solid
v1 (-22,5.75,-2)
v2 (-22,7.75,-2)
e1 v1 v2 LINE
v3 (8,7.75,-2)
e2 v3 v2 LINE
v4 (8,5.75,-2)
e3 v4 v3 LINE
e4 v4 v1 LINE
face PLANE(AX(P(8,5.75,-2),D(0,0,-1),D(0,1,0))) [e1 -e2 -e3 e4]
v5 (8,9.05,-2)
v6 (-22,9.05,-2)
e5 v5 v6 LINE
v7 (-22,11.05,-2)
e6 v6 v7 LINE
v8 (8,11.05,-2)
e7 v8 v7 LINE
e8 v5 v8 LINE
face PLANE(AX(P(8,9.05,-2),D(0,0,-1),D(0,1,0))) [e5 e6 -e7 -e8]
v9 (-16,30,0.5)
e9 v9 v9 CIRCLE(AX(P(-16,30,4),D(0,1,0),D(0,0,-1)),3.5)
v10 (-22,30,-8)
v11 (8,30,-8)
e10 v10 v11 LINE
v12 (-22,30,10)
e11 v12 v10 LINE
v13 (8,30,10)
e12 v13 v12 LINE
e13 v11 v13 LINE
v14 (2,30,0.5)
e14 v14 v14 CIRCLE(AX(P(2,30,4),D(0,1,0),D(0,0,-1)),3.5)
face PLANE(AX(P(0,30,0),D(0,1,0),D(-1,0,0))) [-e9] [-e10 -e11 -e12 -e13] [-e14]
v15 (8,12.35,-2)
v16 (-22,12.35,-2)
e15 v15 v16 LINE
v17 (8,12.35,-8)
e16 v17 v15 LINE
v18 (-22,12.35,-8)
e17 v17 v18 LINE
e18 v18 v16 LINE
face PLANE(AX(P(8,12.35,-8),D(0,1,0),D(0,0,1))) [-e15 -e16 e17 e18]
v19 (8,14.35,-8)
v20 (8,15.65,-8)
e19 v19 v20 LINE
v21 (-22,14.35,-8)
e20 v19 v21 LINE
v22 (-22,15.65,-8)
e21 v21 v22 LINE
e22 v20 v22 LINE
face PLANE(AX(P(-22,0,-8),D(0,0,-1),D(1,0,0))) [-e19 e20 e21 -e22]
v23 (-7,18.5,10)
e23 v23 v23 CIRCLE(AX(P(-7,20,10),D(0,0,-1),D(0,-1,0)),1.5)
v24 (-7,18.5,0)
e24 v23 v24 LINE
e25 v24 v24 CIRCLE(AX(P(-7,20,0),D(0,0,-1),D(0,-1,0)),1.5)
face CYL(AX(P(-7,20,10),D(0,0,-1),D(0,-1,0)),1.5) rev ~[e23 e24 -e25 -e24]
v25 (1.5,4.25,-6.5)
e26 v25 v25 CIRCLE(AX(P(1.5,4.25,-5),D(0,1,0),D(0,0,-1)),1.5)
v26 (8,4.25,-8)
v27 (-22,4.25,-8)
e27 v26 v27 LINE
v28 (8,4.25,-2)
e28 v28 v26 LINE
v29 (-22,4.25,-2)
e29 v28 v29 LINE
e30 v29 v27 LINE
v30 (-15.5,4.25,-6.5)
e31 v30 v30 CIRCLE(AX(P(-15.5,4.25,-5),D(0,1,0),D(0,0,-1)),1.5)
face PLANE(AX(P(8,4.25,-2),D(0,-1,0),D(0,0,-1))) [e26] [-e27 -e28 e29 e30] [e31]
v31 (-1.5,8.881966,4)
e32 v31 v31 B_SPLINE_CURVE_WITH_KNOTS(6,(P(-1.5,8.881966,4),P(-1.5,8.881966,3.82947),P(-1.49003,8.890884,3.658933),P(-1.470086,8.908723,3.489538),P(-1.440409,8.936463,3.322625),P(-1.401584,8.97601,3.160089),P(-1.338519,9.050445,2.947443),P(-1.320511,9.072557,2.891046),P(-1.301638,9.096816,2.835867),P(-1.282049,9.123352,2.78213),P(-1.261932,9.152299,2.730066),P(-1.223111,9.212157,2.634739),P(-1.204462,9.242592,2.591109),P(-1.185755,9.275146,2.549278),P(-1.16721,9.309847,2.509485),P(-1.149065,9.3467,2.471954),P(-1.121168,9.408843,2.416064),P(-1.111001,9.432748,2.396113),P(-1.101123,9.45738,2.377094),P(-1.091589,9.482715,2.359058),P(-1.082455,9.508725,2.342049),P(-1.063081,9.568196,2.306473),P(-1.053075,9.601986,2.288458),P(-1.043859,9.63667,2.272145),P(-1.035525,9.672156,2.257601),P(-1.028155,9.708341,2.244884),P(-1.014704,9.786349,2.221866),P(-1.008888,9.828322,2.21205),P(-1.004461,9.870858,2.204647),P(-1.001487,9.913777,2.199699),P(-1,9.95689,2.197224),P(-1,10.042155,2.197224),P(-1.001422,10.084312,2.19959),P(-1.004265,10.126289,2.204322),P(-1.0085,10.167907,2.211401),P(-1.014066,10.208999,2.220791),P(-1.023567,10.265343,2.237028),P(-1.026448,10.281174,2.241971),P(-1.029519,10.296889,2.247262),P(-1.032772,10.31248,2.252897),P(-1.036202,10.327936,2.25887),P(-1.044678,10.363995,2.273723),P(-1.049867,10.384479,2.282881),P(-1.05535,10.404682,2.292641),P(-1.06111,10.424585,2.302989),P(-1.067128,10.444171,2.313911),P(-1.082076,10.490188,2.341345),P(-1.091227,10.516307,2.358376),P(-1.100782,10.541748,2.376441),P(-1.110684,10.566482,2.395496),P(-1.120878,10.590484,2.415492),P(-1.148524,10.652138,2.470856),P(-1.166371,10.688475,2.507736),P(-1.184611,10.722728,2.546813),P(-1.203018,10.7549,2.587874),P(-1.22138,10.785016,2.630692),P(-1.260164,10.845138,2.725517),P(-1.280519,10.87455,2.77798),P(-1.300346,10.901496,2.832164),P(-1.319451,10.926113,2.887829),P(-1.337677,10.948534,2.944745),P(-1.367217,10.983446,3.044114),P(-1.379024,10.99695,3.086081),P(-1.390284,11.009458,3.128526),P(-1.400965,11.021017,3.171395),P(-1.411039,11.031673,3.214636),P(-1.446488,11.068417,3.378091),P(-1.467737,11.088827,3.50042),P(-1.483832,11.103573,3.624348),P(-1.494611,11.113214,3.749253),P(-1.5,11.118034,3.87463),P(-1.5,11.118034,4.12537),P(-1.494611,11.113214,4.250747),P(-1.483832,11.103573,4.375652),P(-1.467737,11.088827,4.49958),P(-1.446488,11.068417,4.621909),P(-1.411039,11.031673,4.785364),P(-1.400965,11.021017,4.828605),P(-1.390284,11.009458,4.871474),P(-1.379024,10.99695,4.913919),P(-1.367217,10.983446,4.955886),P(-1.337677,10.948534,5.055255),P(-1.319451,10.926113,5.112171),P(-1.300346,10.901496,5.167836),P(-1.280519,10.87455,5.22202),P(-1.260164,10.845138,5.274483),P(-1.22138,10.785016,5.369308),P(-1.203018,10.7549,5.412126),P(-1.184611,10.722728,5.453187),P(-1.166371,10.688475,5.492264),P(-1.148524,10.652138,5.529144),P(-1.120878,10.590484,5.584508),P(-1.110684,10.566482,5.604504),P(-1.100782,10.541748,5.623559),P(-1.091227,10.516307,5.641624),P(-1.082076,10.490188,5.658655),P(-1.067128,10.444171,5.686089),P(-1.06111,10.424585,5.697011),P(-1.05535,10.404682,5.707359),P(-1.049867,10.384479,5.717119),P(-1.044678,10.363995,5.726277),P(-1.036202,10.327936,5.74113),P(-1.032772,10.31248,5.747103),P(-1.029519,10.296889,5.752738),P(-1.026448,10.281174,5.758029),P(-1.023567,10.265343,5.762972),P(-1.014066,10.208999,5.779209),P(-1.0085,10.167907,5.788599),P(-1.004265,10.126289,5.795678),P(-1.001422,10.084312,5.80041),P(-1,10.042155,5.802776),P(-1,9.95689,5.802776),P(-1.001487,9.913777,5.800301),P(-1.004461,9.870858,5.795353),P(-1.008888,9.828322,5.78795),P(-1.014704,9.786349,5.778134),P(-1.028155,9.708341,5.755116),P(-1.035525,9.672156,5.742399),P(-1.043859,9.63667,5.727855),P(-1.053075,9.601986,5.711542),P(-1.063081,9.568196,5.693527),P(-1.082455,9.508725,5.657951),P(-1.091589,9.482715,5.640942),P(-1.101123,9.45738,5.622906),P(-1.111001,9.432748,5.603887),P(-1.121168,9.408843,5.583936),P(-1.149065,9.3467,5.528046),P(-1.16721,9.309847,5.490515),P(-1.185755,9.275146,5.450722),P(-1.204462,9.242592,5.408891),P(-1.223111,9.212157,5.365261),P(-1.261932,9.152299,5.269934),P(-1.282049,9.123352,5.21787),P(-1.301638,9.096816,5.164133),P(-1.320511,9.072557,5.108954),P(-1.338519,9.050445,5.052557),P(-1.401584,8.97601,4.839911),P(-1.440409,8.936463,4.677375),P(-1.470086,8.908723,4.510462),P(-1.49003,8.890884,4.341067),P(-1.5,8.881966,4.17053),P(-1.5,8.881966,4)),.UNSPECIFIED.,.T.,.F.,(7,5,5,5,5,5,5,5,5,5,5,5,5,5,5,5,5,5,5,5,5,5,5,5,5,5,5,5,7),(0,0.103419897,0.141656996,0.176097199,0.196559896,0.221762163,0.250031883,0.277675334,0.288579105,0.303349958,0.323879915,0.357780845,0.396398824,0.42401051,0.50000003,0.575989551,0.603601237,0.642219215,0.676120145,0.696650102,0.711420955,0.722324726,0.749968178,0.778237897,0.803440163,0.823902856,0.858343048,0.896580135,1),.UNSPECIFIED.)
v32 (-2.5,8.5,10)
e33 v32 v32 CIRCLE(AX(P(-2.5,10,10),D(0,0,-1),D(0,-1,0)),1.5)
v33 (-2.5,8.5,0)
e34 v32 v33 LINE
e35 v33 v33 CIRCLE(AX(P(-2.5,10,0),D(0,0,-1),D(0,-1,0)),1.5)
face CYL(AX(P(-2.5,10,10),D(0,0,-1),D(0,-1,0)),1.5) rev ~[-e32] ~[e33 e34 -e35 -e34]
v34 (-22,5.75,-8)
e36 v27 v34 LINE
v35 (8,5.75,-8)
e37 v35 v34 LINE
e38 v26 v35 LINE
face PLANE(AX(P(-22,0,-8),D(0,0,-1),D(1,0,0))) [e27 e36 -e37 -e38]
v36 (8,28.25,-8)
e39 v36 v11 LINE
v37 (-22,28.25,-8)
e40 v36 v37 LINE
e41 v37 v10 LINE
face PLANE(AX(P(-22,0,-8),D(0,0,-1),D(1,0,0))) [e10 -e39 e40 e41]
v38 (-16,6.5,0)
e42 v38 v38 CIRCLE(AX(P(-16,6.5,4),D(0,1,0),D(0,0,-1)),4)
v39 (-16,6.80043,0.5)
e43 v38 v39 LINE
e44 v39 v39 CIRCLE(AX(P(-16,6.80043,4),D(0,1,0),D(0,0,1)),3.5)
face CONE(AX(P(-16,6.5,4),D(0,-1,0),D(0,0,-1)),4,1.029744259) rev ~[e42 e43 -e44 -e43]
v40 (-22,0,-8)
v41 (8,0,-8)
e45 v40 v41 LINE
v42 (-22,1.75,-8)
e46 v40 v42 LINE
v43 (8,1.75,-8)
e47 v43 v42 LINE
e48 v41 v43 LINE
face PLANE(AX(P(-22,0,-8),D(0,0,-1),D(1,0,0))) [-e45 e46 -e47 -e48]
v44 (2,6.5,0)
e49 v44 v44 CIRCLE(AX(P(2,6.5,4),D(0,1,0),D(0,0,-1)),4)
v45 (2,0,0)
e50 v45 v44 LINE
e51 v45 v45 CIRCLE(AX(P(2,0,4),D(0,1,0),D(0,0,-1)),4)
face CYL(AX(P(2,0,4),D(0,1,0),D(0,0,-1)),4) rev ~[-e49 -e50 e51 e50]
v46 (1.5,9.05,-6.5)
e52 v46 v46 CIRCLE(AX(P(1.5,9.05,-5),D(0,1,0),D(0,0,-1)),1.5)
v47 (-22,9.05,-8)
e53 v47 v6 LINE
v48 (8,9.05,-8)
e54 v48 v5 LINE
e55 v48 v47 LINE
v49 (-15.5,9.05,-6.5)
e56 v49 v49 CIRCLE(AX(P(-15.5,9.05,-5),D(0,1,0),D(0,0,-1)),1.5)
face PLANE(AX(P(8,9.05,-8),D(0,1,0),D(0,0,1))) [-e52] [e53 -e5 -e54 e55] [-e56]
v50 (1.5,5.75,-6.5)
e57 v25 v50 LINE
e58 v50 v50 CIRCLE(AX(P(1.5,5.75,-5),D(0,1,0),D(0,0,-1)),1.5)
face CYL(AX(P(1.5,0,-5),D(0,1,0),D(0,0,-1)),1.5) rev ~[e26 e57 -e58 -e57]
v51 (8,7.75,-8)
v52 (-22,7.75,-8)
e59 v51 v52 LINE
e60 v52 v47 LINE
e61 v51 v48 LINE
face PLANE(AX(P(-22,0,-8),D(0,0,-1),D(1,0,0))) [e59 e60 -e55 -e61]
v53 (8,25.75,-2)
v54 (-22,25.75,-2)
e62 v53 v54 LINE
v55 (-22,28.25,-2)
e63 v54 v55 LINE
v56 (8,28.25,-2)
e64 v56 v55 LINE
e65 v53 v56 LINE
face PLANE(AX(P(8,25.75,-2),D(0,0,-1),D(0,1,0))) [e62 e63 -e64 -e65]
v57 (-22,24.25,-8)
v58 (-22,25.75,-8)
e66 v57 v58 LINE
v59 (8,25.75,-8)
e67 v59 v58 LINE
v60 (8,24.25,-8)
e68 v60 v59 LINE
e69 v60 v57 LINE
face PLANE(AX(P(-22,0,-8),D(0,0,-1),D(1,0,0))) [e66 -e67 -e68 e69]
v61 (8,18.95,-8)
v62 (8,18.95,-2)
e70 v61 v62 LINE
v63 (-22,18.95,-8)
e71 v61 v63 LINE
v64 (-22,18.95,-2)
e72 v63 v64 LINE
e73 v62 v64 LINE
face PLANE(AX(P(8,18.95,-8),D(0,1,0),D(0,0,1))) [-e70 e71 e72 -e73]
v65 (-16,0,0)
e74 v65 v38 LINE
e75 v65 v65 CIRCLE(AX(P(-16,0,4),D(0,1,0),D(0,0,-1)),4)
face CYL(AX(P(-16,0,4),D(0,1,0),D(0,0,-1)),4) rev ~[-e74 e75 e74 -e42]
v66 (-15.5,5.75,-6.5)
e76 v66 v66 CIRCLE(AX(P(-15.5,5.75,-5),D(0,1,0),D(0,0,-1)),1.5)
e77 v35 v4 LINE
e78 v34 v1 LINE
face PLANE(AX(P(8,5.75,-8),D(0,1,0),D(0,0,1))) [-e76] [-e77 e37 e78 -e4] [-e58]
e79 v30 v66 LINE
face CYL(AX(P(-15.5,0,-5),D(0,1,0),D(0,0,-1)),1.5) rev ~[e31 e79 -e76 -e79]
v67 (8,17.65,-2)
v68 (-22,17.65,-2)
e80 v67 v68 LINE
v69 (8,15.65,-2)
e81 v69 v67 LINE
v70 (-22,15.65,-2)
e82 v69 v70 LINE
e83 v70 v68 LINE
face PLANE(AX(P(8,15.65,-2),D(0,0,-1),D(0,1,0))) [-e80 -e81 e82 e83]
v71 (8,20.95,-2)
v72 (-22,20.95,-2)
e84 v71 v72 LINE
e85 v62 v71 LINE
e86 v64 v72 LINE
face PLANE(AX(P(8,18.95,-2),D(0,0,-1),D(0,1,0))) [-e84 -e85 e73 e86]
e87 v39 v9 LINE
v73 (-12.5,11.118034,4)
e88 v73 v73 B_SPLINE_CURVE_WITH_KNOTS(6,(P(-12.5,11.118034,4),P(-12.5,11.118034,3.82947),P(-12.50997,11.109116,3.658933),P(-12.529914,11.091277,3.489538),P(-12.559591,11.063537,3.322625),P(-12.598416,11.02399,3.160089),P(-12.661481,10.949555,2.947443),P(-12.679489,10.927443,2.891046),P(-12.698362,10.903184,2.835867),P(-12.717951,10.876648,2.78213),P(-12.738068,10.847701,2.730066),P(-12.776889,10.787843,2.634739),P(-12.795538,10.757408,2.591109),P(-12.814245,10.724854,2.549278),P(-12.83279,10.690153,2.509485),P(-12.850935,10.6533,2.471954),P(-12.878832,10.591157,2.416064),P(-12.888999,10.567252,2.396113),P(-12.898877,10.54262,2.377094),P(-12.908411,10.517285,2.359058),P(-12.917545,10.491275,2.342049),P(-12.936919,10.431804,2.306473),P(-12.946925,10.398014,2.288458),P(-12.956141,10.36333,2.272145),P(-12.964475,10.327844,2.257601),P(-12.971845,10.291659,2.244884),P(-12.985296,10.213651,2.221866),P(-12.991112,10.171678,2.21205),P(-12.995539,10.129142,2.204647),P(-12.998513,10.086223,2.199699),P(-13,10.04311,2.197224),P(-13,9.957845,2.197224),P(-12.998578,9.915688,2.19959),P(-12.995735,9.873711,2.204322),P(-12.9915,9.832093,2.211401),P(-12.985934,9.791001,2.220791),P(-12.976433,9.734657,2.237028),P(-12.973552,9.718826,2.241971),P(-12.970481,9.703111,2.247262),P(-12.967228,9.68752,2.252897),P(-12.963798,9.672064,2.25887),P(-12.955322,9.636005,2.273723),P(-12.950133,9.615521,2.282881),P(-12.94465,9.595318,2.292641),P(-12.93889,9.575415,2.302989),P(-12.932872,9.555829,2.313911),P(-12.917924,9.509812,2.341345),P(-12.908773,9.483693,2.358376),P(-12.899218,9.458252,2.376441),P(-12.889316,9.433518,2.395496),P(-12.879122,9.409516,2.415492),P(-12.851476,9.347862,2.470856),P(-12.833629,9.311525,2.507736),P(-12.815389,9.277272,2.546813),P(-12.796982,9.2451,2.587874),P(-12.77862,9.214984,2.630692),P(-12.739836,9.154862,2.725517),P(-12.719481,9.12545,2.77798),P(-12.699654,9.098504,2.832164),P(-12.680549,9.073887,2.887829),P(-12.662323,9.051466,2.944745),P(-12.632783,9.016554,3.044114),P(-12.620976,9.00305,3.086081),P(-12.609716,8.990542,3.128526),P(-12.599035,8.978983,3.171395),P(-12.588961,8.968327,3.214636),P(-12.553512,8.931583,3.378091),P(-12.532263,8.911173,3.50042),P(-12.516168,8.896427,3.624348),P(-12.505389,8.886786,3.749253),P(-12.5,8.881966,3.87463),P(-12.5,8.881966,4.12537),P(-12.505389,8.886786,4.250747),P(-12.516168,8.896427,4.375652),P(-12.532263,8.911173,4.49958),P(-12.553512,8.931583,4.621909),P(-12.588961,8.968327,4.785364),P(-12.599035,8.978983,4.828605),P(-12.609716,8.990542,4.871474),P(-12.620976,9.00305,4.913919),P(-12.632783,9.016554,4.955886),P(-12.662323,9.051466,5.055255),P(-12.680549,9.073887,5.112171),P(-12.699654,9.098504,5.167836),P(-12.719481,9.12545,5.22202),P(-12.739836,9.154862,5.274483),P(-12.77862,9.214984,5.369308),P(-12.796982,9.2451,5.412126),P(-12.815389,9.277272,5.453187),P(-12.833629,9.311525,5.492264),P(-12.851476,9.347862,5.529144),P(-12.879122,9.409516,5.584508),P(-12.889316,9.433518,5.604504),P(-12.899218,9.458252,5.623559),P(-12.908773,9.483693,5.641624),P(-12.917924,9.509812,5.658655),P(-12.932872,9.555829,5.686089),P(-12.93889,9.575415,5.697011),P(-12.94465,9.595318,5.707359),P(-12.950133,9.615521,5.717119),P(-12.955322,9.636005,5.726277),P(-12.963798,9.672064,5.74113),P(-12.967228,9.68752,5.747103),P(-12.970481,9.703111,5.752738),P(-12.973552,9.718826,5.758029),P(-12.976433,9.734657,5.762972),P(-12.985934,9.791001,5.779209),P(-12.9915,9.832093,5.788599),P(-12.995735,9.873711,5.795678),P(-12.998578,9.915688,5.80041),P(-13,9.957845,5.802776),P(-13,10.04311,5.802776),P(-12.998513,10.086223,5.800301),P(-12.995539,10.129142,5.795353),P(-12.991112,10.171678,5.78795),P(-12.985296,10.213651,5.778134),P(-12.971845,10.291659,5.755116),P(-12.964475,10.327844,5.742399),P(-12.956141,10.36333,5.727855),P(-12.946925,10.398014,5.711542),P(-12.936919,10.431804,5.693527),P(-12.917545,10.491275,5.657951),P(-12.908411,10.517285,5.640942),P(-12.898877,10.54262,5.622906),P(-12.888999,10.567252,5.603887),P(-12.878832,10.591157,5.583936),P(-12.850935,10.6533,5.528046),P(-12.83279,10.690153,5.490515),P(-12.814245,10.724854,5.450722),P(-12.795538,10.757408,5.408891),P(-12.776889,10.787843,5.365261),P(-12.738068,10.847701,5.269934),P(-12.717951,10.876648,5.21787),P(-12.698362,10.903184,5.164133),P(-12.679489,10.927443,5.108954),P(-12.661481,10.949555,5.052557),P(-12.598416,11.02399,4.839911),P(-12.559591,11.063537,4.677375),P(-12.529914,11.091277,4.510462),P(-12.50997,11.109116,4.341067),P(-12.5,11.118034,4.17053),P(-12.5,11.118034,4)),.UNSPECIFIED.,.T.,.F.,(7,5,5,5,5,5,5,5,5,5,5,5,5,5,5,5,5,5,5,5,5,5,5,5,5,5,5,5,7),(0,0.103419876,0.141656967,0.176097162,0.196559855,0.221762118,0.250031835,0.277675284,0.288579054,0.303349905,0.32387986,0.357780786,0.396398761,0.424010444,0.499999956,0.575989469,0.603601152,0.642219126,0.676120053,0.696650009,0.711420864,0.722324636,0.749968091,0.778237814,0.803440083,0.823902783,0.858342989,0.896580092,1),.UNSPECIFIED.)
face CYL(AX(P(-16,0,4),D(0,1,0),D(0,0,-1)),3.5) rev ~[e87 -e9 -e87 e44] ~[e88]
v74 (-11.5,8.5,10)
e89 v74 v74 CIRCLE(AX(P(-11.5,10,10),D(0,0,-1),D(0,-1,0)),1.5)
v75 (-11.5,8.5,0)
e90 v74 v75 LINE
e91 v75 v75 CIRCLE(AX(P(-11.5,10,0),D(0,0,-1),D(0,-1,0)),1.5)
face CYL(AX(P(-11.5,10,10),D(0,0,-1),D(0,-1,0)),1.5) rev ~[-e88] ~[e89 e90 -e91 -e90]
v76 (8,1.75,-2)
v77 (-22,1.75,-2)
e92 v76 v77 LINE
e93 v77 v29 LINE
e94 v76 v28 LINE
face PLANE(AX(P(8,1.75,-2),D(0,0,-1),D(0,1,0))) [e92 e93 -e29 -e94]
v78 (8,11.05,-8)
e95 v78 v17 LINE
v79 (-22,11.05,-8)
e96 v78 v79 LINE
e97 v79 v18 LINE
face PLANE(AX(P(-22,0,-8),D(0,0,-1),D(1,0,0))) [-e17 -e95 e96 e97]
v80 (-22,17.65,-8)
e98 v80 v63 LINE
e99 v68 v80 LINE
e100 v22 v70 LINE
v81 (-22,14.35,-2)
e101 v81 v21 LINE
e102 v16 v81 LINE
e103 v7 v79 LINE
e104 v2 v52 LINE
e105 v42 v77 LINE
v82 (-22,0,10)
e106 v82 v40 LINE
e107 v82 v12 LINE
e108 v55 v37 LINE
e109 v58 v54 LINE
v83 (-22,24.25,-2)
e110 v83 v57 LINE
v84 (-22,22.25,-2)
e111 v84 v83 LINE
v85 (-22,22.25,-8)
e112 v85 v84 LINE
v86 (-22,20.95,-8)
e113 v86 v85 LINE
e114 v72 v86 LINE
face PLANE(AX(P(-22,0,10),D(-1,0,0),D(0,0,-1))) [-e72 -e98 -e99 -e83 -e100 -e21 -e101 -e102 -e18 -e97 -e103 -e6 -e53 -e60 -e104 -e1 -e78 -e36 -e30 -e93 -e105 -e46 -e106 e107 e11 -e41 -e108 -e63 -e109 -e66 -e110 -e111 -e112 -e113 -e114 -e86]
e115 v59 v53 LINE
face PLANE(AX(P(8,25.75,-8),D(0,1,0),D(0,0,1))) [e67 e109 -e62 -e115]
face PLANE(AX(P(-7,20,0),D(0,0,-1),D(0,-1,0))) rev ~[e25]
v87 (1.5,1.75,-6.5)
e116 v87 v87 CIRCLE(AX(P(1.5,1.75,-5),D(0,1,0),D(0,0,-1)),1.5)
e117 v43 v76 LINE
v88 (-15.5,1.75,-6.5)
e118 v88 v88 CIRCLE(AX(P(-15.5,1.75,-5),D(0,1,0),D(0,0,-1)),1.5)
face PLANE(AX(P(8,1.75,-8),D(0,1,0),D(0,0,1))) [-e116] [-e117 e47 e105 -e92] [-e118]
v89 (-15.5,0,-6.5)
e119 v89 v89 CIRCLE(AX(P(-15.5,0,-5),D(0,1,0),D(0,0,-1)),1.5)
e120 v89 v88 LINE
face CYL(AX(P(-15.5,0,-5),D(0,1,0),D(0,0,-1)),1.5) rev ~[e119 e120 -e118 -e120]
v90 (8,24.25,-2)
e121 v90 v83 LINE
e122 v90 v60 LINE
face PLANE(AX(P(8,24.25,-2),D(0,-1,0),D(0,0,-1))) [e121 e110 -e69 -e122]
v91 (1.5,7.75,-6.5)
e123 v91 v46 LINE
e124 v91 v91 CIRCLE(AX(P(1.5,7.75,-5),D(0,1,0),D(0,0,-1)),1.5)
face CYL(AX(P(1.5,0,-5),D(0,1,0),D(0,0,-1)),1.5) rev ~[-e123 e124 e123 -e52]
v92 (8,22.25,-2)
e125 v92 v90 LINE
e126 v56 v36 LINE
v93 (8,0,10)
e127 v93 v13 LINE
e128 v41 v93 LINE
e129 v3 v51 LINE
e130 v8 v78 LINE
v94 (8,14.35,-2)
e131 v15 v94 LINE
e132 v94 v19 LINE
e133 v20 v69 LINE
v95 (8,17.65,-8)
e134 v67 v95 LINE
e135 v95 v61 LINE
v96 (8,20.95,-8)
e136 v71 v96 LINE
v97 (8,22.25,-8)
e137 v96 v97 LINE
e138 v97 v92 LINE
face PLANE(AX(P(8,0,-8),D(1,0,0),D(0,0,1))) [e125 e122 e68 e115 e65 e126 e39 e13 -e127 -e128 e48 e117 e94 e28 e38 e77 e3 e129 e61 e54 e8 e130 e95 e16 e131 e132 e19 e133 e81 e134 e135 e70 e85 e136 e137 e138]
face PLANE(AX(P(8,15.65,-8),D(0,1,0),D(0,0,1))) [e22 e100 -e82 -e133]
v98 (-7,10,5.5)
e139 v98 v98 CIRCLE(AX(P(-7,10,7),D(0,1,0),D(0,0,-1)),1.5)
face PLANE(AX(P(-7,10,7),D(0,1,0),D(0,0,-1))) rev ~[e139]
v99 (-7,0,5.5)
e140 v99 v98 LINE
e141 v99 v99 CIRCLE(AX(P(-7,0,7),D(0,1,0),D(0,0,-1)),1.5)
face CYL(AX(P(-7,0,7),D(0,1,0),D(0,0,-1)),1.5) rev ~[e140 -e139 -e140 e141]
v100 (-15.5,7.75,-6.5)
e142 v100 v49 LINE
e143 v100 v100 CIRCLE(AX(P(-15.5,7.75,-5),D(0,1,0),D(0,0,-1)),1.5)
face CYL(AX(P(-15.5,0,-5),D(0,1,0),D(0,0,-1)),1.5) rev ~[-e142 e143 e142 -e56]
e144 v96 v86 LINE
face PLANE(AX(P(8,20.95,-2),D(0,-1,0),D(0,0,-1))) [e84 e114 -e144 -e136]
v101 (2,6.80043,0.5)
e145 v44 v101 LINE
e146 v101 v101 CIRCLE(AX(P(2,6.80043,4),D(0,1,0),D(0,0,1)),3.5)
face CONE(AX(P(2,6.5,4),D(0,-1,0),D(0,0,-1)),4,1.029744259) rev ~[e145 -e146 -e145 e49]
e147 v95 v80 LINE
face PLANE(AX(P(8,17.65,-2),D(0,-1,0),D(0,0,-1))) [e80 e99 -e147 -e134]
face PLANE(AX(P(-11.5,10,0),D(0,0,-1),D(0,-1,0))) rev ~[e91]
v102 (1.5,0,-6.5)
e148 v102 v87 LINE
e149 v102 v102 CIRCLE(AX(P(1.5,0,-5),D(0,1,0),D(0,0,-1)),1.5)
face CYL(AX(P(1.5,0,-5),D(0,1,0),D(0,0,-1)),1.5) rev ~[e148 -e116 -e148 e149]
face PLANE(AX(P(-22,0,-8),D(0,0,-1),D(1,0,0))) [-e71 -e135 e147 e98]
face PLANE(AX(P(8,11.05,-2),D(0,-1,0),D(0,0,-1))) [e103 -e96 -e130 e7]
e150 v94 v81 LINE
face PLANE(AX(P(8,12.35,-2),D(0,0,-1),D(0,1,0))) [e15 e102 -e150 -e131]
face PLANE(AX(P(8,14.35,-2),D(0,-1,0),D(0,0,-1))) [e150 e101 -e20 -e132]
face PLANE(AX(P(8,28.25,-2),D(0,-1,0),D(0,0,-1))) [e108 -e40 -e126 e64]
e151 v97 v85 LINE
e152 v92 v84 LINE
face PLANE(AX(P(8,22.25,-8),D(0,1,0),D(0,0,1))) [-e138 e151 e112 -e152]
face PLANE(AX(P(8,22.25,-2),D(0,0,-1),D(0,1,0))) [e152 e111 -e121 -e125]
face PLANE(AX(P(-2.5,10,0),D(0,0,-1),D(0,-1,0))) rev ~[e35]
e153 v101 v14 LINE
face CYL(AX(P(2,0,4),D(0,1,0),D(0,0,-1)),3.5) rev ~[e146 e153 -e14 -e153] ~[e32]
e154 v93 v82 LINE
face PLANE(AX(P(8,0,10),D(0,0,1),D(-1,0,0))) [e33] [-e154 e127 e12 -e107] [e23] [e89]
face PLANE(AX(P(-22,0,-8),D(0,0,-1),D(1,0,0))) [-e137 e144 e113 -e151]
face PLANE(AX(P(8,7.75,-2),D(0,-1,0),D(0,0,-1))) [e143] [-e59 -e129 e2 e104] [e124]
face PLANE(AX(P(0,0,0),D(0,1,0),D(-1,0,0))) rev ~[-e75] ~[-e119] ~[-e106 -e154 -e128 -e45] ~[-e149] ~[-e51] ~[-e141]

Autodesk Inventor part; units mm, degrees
ref_plane "YZ Plane" through (0, 0, 0) normal (1, 0, 0) x (0, 1, 0)
ref_plane "XZ Plane" through (0, 0, 0) normal (0, 1, 0) x (-1, 0, 0)
ref_plane "XY Plane" through (0, 0, 0) normal (0, 0, 1) x (1, 0, 0)
sketch "Sketch2" plane through (0, 0, 0) normal (0, 1, 0) x (-1, 0, 0)
  line L0 (-8, 10) -> (22, 10)
  line L1 (22, 10) -> (22, -8)
  line L2 (22, -8) -> (-8, -8)
  line L3 (-8, -8) -> (-8, 10)
  point P0 (0, 0)
  point P1 (-2, 4)
  point P2 (16, 4)
  point P3 (7, 7)
  point P4 (15.5, -5)
  point P5 (-1.5, -5)
  dimension "d0" = 30
  dimension "d1" = 18
  dimension "d2" = 6
  dimension "d3" = 6
  dimension "d4" = 6
  dimension "d5" = 6
  dimension "d40" = 15
  dimension "d41" = 3
  dimension "d42" = 6.5
  dimension "d43" = 6.5
  dimension "d44" = 3
  dimension "d45" = 3
extrude "Extrusion1" add sketch "Sketch2" along normal blind 30
hole "Hole1" at (2, 0, 4) at (-16, 0, 4) direction (0, 1, 0) diameter 7 end through all
hole "Hole2" at (-16, 0, 4) at (2, 0, 4) direction (0, 1, 0) diameter 8 depth 6.5 tip angle 118
sketch "Sketch3" plane through (8, 0, 10) normal (1, 0, 0) x (0, 0, -1)
  line L0 (18, 1.75) -> (12, 1.75)
  line L1 (12, 1.75) -> (12, 4.25)
  line L2 (12, 4.25) -> (18, 4.25)
  line L3 (18, 4.25) -> (18, 1.75)
  line L4 (18, 0) -> (0, 0) projected
  line L5 (18, 5.75) -> (12, 5.75)
  line L6 (12, 5.75) -> (12, 7.75)
  line L7 (12, 7.75) -> (18, 7.75)
  line L8 (18, 7.75) -> (18, 5.75)
  line L9 (18, 25.75) -> (12, 25.75)
  line L10 (12, 25.75) -> (12, 28.25)
  line L11 (12, 28.25) -> (18, 28.25)
  line L12 (18, 28.25) -> (18, 25.75)
  line L13 (18, 9.05) -> (12, 9.05)
  line L14 (12, 9.05) -> (12, 11.05)
  line L15 (12, 11.05) -> (18, 11.05)
  line L16 (18, 11.05) -> (18, 9.05)
  line L17 (18, 12.35) -> (12, 12.35)
  line L18 (12, 12.35) -> (12, 14.35)
  line L19 (12, 14.35) -> (18, 14.35)
  line L20 (18, 14.35) -> (18, 12.35)
  line L21 (18, 15.65) -> (12, 15.65)
  line L22 (12, 15.65) -> (12, 17.65)
  line L23 (12, 17.65) -> (18, 17.65)
  line L24 (18, 17.65) -> (18, 15.65)
  line L25 (18, 18.95) -> (12, 18.95)
  line L26 (12, 18.95) -> (12, 20.95)
  line L27 (12, 20.95) -> (18, 20.95)
  line L28 (18, 20.95) -> (18, 18.95)
  line L29 (18, 22.25) -> (12, 22.25)
  line L30 (12, 22.25) -> (12, 24.25)
  line L31 (12, 24.25) -> (18, 24.25)
  line L32 (18, 24.25) -> (18, 22.25)
  line L33 (0, 30) -> (18, 30) projected
  point P0 (10, 0)
  dimension "d22" = 6
  dimension "d23" = 2.5
  dimension "d24" = 1.75
  dimension "d25" = 6
  dimension "d26" = 2
  dimension "d27" = 1.5
  dimension "d36" = 6
  dimension "d37" = 2.5
  dimension "d46" = 6
  dimension "d47" = 2
  dimension "d48" = 1.3
  dimension "d49" = 6
  dimension "d50" = 2
  dimension "d51" = 6
  dimension "d52" = 2
  dimension "d53" = 6
  dimension "d54" = 2
  dimension "d55" = 6
  dimension "d56" = 2
  dimension "d57" = 1.75
  dimension "d58" = 1.5
extrude "Extrusion3" cut sketch "Sketch3" against normal blind 30
hole "Hole3" at (-7, 0, 7) at (-15.5, 0, -5) at (1.5, 0, -5) direction (0, 1, 0) diameter 3 depth 10
thread "Thread1" size "M3x0.5" class "6H" standard "ANSI Metric M Profile" full length
thread "Thread2" size "M3x0.5" class "6H" standard "ANSI Metric M Profile" full length
thread "Thread3" size "M3x0.5" class "6H" standard "ANSI Metric M Profile" full length
sketch "Sketch4" plane through (-22, 0, 10) normal (0, 0, 1) x (1, 0, 0)
  line L0 (30, 0) -> (30, 30) projected
  line L1 (0, 30) -> (30, 30) projected
  point P0 (22, 0)
  point P1 (19.5, 10)
  point P2 (10.5, 10)
  point P3 (15, 20)
  dimension "d74" = 10.5
  dimension "d75" = 15
  dimension "d76" = 19.5
  dimension "d77" = 20
  dimension "d78" = 10
hole "Hole4" at (-2.5, 10, 10) at (-11.5, 10, 10) at (-7, 20, 10) direction (0, 0, -1) diameter 3 depth 10
thread "Thread4" size "M3x0.5" class "6H" standard "ANSI Metric M Profile" full length
thread "Thread5" size "M3x0.5" class "6H" standard "ANSI Metric M Profile" full length
thread "Thread6" size "M3x0.5" class "6H" standard "ANSI Metric M Profile" full length
properties part number "Chimera Heatsink" material "Aluminum 6061, Welded"
